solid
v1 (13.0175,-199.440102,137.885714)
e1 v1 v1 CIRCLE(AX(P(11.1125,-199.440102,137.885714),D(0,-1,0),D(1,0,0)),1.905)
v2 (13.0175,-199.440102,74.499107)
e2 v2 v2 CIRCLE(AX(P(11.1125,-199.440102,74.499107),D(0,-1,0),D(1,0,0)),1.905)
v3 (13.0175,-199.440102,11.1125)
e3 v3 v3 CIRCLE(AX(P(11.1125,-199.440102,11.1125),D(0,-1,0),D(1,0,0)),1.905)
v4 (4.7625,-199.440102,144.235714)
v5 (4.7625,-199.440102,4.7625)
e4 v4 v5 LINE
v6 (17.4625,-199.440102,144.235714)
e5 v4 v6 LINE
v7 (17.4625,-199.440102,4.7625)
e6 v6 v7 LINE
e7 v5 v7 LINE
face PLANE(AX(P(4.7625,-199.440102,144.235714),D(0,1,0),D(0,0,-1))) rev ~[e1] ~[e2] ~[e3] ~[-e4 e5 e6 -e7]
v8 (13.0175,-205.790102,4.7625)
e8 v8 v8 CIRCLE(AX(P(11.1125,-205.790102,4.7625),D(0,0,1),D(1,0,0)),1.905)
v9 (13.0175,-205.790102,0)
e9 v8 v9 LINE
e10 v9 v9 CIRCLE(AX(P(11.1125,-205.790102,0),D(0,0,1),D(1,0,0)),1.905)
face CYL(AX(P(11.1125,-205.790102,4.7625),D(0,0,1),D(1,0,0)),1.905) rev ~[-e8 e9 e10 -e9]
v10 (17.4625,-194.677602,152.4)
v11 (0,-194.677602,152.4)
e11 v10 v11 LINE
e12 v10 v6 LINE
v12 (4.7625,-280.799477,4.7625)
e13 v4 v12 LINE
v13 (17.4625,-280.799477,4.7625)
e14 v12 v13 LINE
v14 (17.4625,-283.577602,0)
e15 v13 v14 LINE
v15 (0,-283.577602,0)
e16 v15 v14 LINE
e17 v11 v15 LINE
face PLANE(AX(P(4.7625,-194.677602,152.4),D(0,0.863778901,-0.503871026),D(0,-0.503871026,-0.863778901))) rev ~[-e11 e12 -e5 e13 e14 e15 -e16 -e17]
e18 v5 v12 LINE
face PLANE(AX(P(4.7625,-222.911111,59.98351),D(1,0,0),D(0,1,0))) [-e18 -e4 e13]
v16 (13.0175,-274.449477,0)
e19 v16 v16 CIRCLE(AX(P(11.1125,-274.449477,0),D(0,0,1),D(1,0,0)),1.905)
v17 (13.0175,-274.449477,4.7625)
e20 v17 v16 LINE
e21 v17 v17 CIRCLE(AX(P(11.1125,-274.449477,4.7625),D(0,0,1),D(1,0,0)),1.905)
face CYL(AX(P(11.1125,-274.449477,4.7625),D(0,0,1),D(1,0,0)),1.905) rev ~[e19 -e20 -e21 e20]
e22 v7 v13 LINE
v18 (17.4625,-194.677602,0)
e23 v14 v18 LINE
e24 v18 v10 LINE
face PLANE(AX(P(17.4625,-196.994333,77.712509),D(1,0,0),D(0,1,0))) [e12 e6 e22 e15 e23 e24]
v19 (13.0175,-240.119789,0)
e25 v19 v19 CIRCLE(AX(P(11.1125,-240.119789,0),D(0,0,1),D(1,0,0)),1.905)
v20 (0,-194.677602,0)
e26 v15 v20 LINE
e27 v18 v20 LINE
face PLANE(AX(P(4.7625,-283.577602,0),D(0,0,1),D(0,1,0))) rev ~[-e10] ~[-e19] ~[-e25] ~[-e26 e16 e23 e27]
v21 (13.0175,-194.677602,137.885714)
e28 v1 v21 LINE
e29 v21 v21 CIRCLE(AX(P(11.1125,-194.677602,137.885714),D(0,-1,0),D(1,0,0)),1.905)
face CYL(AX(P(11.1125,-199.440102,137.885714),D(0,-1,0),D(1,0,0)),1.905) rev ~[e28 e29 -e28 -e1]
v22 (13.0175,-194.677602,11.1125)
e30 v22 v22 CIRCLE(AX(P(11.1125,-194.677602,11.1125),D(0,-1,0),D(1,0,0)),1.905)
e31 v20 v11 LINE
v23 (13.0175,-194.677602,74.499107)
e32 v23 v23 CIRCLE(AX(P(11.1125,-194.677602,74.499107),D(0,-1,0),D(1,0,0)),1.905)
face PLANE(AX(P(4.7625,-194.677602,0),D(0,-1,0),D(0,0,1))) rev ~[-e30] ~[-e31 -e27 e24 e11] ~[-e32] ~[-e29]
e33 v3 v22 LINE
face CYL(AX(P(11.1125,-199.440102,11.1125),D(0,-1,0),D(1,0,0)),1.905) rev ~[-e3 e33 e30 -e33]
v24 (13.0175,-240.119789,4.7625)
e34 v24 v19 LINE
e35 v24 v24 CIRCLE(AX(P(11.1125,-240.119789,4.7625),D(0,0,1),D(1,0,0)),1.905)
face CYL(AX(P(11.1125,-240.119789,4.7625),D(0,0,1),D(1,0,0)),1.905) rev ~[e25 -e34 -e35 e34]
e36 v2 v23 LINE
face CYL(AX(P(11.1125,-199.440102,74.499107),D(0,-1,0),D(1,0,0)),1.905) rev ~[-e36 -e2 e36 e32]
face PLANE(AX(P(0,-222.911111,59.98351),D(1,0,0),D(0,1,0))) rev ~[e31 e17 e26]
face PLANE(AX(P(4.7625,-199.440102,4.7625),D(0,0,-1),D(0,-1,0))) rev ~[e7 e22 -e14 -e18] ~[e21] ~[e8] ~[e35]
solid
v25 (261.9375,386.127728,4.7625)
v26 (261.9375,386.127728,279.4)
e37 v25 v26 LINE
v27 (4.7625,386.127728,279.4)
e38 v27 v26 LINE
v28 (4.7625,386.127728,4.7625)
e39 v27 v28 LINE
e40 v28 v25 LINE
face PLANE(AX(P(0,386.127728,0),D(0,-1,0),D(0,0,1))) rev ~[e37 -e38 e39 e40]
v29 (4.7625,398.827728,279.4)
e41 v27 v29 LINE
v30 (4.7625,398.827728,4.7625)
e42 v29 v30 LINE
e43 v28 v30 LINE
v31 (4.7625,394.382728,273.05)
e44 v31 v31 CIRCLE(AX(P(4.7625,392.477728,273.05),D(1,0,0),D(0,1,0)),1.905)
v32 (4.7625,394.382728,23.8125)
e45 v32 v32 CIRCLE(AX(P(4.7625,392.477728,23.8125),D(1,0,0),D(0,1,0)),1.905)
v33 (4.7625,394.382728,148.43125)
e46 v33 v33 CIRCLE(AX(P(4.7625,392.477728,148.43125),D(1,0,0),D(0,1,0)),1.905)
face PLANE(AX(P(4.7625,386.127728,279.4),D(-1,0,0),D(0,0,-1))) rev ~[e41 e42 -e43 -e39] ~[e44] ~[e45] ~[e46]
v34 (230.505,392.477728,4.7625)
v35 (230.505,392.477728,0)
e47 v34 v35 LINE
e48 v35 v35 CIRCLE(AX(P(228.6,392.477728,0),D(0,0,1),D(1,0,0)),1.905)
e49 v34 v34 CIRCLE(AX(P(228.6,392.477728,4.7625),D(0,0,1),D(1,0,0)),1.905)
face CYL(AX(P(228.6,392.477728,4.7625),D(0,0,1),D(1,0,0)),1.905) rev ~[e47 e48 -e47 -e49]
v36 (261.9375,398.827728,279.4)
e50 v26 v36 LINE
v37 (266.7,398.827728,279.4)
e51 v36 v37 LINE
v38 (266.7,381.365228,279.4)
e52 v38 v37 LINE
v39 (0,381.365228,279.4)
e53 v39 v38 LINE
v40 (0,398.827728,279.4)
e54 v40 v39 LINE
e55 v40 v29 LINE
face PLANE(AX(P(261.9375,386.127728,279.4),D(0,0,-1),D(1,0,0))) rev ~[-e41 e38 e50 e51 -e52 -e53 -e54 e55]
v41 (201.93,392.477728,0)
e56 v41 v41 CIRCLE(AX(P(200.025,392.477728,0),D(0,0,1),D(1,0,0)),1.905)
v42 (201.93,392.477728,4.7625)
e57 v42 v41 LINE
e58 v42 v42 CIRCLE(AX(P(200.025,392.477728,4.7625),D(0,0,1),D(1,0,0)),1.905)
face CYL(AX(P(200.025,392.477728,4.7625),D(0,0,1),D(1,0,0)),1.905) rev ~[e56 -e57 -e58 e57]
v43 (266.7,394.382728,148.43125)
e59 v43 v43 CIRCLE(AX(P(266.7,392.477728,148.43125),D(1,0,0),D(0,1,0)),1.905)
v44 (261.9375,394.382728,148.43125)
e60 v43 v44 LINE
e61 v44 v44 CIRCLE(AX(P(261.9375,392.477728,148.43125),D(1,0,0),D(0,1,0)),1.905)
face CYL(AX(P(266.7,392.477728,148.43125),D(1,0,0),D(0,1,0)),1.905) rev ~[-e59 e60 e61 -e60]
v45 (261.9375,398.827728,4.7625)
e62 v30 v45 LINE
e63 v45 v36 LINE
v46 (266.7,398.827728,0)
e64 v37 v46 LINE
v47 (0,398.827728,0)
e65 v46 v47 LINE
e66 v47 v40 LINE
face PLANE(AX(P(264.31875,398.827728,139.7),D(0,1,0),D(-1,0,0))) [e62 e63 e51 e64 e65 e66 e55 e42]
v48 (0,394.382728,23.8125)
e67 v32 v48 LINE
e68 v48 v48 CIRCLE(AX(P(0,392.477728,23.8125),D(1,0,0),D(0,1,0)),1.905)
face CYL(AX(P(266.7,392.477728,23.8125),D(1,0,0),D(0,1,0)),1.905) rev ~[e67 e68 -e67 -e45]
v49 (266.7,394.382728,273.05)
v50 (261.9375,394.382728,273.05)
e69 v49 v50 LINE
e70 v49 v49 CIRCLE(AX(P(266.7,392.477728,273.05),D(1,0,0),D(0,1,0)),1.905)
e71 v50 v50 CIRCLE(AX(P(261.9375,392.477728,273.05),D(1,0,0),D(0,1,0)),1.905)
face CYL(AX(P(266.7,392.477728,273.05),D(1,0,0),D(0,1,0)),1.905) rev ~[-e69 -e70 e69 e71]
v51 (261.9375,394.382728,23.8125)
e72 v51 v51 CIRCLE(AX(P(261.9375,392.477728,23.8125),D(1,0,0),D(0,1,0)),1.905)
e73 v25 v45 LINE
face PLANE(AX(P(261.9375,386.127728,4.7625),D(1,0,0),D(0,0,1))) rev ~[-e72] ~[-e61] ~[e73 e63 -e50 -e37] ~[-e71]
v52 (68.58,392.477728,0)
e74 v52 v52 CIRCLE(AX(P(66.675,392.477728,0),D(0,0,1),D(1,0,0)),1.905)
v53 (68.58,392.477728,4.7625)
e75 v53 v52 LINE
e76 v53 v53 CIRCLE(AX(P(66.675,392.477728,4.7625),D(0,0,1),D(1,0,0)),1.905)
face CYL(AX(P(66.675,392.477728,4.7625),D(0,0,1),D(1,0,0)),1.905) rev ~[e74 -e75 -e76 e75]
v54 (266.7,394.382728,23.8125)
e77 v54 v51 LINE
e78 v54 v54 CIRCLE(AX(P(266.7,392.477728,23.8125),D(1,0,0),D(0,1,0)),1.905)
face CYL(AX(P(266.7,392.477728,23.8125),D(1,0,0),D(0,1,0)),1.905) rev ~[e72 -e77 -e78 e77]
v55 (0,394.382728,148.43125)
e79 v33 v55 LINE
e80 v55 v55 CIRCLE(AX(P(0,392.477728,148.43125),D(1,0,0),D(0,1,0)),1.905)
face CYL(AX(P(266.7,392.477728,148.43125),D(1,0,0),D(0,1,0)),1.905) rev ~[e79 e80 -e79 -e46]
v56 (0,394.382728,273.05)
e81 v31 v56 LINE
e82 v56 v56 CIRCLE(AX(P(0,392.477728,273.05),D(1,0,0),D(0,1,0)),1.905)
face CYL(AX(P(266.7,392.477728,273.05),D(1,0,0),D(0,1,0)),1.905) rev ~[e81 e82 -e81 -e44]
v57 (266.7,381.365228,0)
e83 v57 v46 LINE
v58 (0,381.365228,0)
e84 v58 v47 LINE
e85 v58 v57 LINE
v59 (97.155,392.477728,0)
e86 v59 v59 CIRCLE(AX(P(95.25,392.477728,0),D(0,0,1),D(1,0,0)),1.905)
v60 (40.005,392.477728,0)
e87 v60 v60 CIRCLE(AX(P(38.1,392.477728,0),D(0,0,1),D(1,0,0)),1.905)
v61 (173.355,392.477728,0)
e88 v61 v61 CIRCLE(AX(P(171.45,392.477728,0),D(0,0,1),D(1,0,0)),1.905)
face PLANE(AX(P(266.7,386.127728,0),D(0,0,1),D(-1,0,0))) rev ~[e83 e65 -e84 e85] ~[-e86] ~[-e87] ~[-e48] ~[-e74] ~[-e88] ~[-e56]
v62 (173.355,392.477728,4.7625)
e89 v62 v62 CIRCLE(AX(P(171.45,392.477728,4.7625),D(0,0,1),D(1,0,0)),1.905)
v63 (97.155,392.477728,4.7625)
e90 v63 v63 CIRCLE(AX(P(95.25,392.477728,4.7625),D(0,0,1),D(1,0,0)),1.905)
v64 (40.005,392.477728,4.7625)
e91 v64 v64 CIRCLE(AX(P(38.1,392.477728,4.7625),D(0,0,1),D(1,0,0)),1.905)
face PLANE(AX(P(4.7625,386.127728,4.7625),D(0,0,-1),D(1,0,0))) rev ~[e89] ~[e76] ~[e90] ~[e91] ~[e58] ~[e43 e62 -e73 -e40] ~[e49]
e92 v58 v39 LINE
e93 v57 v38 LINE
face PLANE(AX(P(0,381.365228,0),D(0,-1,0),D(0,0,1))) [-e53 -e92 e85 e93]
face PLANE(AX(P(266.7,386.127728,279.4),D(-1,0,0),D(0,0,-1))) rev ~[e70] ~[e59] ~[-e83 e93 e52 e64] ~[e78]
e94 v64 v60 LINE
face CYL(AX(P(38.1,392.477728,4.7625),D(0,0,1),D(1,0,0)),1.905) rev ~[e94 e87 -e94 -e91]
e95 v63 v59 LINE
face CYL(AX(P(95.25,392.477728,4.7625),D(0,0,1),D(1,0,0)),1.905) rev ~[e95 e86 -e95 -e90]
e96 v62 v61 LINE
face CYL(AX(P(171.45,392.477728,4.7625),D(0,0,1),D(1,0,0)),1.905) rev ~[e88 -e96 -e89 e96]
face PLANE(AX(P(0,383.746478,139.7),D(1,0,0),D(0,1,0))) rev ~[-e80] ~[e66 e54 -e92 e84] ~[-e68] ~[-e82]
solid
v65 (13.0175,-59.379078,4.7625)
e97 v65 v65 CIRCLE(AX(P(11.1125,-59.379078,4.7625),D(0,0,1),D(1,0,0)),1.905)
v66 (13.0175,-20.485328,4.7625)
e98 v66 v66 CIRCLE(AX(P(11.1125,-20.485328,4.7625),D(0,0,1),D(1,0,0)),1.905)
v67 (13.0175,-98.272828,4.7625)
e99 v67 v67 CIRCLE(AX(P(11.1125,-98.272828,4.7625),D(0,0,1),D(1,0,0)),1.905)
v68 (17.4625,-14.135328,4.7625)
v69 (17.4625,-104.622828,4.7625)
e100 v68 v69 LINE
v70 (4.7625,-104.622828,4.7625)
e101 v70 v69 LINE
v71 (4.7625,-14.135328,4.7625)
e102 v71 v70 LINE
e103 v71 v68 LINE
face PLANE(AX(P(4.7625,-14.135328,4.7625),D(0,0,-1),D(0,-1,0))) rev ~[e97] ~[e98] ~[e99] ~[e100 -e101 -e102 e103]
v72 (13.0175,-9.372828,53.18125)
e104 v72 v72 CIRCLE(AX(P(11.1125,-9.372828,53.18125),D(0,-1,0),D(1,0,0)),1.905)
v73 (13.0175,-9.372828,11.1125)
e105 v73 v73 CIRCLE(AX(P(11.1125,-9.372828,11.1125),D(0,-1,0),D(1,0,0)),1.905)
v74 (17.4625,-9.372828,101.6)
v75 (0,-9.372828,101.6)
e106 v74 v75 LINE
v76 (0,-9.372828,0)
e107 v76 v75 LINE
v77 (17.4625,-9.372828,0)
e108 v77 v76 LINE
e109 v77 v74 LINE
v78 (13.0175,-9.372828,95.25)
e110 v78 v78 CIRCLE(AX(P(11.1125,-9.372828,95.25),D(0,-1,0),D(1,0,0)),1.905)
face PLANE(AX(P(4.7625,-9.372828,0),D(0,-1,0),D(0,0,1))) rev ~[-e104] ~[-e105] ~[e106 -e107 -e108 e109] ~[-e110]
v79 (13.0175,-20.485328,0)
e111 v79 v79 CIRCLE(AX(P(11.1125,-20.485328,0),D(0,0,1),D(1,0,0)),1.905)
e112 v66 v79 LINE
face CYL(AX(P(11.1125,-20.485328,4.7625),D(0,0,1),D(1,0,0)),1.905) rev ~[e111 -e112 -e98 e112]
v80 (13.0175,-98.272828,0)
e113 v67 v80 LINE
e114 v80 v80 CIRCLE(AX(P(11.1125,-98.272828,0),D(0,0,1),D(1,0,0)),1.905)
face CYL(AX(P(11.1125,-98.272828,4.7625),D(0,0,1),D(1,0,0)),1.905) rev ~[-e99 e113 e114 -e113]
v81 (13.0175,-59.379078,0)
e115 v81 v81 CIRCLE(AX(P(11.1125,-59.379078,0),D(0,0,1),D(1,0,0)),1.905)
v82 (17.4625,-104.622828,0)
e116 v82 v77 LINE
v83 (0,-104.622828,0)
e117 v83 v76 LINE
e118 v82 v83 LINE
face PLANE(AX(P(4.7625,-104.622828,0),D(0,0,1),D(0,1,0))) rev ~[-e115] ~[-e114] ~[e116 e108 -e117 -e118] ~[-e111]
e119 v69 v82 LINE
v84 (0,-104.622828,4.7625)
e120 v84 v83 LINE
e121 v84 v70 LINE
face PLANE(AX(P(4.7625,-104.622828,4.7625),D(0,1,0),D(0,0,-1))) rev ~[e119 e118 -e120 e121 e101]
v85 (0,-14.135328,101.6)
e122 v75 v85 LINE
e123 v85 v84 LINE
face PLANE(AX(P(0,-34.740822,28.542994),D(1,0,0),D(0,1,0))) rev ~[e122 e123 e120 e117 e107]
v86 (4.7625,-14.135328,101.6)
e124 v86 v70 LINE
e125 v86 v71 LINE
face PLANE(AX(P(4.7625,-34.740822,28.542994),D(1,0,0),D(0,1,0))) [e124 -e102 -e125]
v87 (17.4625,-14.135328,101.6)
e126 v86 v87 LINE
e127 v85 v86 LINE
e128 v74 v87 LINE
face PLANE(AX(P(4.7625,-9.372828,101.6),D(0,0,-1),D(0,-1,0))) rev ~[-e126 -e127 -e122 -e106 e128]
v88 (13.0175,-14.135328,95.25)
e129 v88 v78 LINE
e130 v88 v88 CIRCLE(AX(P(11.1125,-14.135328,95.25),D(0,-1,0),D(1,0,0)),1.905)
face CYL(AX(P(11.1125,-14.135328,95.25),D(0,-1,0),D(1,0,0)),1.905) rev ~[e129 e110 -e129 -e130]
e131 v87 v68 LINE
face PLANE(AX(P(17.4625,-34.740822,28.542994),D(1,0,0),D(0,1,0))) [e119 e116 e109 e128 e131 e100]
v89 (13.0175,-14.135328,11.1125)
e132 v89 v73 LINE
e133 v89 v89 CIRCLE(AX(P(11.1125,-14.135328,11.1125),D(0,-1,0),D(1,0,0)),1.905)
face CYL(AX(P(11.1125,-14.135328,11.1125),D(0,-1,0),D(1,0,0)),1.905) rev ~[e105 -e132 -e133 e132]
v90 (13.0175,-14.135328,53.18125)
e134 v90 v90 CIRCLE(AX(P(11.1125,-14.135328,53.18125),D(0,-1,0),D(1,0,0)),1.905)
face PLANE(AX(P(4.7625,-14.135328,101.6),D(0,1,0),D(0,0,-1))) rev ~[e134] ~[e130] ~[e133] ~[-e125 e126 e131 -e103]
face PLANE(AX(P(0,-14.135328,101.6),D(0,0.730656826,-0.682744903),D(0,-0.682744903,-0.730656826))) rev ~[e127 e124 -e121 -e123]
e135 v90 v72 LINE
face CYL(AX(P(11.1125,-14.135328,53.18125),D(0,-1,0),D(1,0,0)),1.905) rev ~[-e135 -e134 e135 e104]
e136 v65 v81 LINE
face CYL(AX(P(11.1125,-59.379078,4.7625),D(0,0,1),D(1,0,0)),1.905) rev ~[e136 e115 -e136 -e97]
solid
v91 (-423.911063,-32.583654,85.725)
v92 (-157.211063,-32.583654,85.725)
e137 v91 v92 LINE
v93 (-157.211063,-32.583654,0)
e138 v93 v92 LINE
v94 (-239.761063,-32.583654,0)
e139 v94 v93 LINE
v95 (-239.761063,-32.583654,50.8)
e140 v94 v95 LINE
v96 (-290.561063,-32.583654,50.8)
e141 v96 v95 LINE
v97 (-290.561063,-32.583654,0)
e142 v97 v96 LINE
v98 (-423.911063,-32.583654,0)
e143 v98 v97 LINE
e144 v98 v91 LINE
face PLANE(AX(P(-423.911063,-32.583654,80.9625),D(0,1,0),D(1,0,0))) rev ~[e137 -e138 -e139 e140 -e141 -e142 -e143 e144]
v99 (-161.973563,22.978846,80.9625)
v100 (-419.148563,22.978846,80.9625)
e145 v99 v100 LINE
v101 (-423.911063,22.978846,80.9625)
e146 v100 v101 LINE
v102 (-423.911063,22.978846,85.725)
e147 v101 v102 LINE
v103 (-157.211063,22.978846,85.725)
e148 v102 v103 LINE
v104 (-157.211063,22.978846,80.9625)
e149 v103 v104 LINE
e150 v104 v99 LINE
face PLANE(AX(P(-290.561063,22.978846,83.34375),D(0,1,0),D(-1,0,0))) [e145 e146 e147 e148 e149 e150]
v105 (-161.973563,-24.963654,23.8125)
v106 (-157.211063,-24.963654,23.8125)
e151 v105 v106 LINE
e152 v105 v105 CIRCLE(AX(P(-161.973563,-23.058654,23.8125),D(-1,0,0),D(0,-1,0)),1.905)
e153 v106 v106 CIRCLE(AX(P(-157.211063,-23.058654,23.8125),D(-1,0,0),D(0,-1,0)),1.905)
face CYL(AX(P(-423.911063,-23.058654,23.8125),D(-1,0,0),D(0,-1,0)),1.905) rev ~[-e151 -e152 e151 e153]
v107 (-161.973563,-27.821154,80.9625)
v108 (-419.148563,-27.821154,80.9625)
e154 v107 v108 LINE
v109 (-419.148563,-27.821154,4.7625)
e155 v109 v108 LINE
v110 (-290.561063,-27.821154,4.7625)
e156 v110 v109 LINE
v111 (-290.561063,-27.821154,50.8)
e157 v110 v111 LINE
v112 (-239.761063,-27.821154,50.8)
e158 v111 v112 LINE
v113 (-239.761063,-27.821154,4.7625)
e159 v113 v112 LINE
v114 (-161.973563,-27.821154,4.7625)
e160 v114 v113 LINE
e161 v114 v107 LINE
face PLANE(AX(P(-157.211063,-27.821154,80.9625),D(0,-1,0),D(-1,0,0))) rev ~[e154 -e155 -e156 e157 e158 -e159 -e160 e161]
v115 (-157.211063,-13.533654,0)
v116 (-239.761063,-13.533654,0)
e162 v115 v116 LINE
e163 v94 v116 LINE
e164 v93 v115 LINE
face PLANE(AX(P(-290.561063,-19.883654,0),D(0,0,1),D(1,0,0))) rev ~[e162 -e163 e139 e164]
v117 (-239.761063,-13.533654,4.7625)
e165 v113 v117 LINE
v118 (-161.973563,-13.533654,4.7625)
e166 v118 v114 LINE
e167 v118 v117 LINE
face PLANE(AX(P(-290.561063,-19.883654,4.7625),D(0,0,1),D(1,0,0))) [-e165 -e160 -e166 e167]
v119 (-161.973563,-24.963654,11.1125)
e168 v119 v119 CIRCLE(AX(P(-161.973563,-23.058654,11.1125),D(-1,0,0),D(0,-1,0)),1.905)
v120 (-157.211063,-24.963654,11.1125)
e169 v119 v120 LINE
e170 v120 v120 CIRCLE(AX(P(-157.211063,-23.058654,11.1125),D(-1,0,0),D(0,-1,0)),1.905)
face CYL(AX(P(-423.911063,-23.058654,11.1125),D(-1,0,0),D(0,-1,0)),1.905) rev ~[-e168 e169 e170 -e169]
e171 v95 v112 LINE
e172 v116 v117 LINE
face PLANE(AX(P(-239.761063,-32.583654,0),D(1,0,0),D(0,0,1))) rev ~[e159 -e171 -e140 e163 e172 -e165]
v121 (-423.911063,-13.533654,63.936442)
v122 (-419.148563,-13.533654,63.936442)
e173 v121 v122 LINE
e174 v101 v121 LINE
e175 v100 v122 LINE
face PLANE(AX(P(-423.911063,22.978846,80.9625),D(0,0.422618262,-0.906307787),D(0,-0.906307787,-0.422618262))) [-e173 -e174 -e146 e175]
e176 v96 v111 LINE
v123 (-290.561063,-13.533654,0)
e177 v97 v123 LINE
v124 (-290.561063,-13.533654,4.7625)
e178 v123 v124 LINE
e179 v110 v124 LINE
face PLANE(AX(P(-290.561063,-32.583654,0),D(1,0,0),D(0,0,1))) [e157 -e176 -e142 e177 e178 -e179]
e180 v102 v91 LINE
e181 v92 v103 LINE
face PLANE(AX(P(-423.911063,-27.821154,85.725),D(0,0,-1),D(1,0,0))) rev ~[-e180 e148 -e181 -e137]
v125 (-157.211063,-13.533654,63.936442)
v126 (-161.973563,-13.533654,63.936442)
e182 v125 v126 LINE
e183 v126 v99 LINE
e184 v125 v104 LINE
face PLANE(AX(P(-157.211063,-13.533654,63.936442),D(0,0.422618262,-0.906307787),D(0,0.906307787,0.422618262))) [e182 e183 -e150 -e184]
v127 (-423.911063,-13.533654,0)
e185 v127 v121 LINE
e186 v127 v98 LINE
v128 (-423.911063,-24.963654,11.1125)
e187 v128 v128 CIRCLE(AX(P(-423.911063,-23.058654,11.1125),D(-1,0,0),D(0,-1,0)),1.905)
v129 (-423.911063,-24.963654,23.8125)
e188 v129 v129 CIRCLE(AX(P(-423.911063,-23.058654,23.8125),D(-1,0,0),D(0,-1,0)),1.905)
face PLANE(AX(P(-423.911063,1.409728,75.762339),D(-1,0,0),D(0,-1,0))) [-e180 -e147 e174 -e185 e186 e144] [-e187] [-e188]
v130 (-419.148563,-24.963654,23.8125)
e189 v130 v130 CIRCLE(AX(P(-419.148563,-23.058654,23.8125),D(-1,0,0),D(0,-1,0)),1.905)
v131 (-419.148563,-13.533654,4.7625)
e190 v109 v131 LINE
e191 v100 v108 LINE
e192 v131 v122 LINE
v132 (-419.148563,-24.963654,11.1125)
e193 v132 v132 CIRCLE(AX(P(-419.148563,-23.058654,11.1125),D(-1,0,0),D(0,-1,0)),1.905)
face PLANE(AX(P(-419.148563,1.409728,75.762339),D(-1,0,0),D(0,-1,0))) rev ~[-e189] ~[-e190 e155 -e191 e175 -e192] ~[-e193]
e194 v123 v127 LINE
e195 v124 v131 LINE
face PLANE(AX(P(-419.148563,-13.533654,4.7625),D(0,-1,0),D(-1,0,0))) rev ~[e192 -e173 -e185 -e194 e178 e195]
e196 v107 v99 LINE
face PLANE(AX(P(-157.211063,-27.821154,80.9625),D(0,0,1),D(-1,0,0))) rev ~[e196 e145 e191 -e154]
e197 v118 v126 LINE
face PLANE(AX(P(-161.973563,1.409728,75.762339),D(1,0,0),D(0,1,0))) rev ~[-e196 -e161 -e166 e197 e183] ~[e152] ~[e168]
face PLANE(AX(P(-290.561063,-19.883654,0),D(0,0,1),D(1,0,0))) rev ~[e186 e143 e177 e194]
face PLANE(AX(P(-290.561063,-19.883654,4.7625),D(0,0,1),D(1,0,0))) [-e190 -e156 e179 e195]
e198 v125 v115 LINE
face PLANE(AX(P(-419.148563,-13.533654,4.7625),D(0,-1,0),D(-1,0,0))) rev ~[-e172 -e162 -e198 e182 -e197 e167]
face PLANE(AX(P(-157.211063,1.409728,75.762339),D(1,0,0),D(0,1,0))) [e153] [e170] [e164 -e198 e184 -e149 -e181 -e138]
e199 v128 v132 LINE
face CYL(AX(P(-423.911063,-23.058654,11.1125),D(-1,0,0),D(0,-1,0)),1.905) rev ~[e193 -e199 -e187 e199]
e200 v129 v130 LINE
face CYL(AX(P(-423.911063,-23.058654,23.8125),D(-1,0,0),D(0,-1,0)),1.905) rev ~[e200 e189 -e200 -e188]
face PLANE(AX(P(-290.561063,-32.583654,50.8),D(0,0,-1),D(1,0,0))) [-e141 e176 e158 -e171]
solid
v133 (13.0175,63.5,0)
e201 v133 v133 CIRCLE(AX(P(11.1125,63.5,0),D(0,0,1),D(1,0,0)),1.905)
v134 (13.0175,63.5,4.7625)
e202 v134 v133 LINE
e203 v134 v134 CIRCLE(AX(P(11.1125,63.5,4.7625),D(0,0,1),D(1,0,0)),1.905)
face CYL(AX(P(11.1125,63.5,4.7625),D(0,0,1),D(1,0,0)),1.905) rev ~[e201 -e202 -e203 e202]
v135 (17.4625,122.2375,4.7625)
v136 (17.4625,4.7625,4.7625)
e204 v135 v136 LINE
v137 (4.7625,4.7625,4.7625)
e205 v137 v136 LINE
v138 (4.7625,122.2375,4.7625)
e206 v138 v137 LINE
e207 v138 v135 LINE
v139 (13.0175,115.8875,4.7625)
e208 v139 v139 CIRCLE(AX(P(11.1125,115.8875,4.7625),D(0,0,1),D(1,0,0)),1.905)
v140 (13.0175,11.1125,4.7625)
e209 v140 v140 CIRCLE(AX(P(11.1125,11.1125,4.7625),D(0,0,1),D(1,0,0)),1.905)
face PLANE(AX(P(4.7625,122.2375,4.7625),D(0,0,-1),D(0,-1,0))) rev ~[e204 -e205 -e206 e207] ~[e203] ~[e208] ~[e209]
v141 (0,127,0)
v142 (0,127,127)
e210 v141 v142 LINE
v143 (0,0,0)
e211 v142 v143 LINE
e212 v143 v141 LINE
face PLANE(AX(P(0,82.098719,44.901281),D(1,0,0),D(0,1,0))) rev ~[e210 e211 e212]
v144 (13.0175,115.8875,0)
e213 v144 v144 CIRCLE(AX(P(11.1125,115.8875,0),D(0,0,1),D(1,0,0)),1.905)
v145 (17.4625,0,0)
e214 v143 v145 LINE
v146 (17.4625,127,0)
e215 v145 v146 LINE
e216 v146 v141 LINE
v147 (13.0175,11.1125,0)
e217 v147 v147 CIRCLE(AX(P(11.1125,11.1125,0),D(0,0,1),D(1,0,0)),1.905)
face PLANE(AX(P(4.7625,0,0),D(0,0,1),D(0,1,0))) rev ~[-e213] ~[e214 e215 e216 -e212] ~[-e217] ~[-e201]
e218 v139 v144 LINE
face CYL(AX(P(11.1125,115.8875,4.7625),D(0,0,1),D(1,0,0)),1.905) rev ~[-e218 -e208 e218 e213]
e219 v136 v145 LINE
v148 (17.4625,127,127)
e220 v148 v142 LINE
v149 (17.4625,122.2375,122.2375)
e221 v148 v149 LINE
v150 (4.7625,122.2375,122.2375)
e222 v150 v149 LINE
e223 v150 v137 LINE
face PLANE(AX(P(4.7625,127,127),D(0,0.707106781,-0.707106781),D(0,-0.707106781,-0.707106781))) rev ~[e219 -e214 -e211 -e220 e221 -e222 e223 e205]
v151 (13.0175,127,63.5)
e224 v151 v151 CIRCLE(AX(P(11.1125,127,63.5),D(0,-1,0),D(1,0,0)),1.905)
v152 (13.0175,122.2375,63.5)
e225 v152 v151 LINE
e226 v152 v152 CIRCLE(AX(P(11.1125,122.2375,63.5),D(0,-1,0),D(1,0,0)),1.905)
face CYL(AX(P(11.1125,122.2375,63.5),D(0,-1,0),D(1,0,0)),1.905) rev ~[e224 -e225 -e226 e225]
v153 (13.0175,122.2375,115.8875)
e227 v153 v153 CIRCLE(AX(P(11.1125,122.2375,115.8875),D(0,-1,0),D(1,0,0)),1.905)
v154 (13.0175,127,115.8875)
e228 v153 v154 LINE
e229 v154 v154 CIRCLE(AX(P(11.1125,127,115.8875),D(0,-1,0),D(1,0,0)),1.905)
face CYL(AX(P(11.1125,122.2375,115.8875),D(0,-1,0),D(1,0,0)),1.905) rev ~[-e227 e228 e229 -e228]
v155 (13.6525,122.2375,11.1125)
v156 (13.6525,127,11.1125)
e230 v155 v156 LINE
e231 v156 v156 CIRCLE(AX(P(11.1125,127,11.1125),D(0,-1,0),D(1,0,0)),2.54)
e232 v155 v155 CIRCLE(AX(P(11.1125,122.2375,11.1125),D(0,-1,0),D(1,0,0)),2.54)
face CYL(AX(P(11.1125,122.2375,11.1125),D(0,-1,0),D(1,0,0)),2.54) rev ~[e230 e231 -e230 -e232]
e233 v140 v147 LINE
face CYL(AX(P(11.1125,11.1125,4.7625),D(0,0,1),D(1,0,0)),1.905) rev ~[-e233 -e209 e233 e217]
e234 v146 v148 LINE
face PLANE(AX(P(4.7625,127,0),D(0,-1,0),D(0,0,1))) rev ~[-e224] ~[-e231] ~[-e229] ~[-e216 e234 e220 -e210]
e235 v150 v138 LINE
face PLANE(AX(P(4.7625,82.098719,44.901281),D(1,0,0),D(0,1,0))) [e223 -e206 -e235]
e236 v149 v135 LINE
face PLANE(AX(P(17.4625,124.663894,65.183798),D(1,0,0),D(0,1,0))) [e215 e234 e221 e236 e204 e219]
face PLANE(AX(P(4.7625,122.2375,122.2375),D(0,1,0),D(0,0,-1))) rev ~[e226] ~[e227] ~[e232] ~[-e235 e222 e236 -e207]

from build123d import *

# Parameters (mm, degrees)
F1_DEPTH  = 4.7625
F3_DEPTH  = 12.7
F4_R      = 1.905
F5_DEPTH  = 4.7625
F6_R      = 1.905
F6_R_2    = 2.54
F7_DEPTH  = 4.7625
F9_DEPTH  = 4.7625
F11_DEPTH = 12.7
F12_R     = 1.905
F13_DEPTH = 4.7625
F14_R     = 1.905
F15_DEPTH = 4.7625
F17_DEPTH = 4.7625
F19_DEPTH = 12.7
F20_R     = 1.905
F21_DEPTH = 4.7625
F22_R     = 1.905
F23_DEPTH = 4.7625
F24_W     = 254
F24_H     = 12.7
F25_DEPTH = 4.7625
F27_DEPTH = 76.2
F28_R     = 1.905
F29_DEPTH = 266.7
F30_W     = 50.8
F30_H     = 50.8
F31_DEPTH = 19.051
F33_DEPTH = 4.7625
F35_DEPTH = 50.8
F37_DEPTH = 4.7625
F39_DEPTH = 4.7625
F40_W     = 4.7625
F40_H     = 279.4
F41_DEPTH = 266.7
F42_W     = 128.5875
F42_H     = 4.7625
F43_DEPTH = 12.7
F44_R     = 1.905
F45_DEPTH = 266.7
F46_R     = 1.905
F47_DEPTH = 4.7625


with BuildPart() as f1:
    # F0 (on Right) → F1 (new body)
    with BuildSketch(Plane.YZ):
        Polygon((127, 127), (0, 0), (127, 0), align=None)
    extrude(amount=F1_DEPTH)

    # F2 (on face) → F3 (join)
    with BuildSketch(Plane.YZ.offset(4.7625)):
        Polygon((122.2375, 4.7625), (127, 4.7625), (127, 127), (122.2375, 122.2375), align=None)
        Polygon((127, 0), (127, 4.7625), (122.2375, 4.7625), (4.7625, 4.7625), (0, 0), align=None)
    extrude(amount=F3_DEPTH)

    # F4 (on face) → F5 (cut, through all)
    with BuildSketch(Plane.XY.offset(4.7625)):
        with Locations((11.1125, 11.1125)):
            Circle(F4_R)
        with Locations((11.1125, 115.8875)):
            Circle(F4_R)
        with Locations((11.1125, 63.5)):
            Circle(F4_R)
    extrude(amount=-F5_DEPTH, mode=Mode.SUBTRACT)

    # F6 (on face) → F7 (cut, through all)
    with BuildSketch(Plane.XZ.offset(-122.2375)):
        with Locations((11.1125, 115.8875)):
            Circle(F6_R)
        with Locations((11.1125, 11.1125)):
            Circle(F6_R_2)
        with Locations((11.1125, 63.5)):
            Circle(F6_R)
    extrude(amount=-F7_DEPTH, mode=Mode.SUBTRACT)


with BuildPart() as f9:
    # F8 (on Right) → F9 (new body)
    with BuildSketch(Plane.YZ):
        Polygon((-194.6776018031, 152.4), (-283.5776018031, 0), (-194.6776018031, 0), align=None)
    extrude(amount=F9_DEPTH)

    # F10 (on face) → F11 (join)
    with BuildSketch(Plane.YZ.offset(4.7625)):
        Polygon((-199.4401018031, 144.2357142857), (-199.4401018031, 4.7625), (-194.6776018031, 4.7625), (-194.6776018031, 152.4), align=None)
        Polygon((-199.4401018031, 4.7625), (-280.7994768031, 4.7625), (-283.5776018031, 0), (-194.6776018031, 0), (-194.6776018031, 4.7625), align=None)
    extrude(amount=F11_DEPTH)

    # F12 (on face) → F13 (cut, through all)
    with BuildSketch(Plane.XY.offset(4.7625)):
        with Locations((11.1125, -274.4494768031)):
            Circle(F12_R)
        with Locations((11.1125, -240.1197893031)):
            Circle(F12_R)
        with Locations((11.1125, -205.7901018031)):
            Circle(F12_R)
    extrude(amount=-F13_DEPTH, mode=Mode.SUBTRACT)

    # F14 (on face) → F15 (cut, through all)
    with BuildSketch(Plane.XZ.offset(199.4401018031)):
        with Locations((11.1125, 137.8857142857)):
            Circle(F14_R)
        with Locations((11.1125, 11.1125)):
            Circle(F14_R)
        with Locations((11.1125, 74.4991071429)):
            Circle(F14_R)
    extrude(amount=-F15_DEPTH, mode=Mode.SUBTRACT)


with BuildPart() as f17:
    # F16 (on Right) → F17 (new body)
    with BuildSketch(Plane.YZ):
        Polygon((-104.6228282591, 4.7625), (-104.6228282591, 0), (-9.3728282591, 0), (-9.3728282591, 101.6), (-14.1353282591, 101.6), (-14.1353282591, 4.7625), align=None)
        Polygon((-14.1353282591, 101.6), (-104.6228282591, 4.7625), (-14.1353282591, 4.7625), align=None)
    extrude(amount=F17_DEPTH)

    # F18 (on face) → F19 (join)
    with BuildSketch(Plane.YZ.offset(4.7625)):
        Polygon((-9.3728282591, 101.6), (-14.1353282591, 101.6), (-14.1353282591, 4.7625), (-104.6228282591, 4.7625), (-104.6228282591, 0), (-9.3728282591, 0), align=None)
    extrude(amount=F19_DEPTH)

    # F20 (on face) → F21 (cut, through all)
    with BuildSketch(Plane.XY.offset(4.7625)):
        with Locations((11.1125, -98.2728282591)):
            Circle(F20_R)
        with Locations((11.1125, -20.4853282591)):
            Circle(F20_R)
        with Locations((11.1125, -59.3790782591)):
            Circle(F20_R)
    extrude(amount=-F21_DEPTH, mode=Mode.SUBTRACT)

    # F22 (on face) → F23 (cut, through all)
    with BuildSketch(Plane.XZ.offset(14.1353282591)):
        with Locations((11.1125, 95.25)):
            Circle(F22_R)
        with Locations((11.1125, 11.1125)):
            Circle(F22_R)
        with Locations((11.1125, 53.18125)):
            Circle(F22_R)
    extrude(amount=-F23_DEPTH, mode=Mode.SUBTRACT)


with BuildPart() as f25:
    # F24 (on Top) → F25 (new body)
    with BuildSketch(Plane.XY):
        with Locations((-290.5610627561, -19.8836544693)):
            Rectangle(F24_W, F24_H)
        Polygon((-417.5610627561, -13.5336544693), (-423.9110627561, -13.5336544693), (-423.9110627561, -32.5836544693), (-157.2110627561, -32.5836544693), (-157.2110627561, -13.5336544693), (-163.5610627561, -13.5336544693), (-163.5610627561, -26.2336544693), (-417.5610627561, -26.2336544693), align=None)
    extrude(amount=F25_DEPTH)

    # F26 (on face) → F27 (join)
    with BuildSketch(Plane.XY.offset(4.7625)):
        Polygon((-419.1485627561, -27.8211544693), (-419.1485627561, -13.5336544693), (-423.9110627561, -13.5336544693), (-423.9110627561, -32.5836544693), (-157.2110627561, -32.5836544693), (-157.2110627561, -13.5336544693), (-161.9735627561, -13.5336544693), (-161.9735627561, -27.8211544693), align=None)
    extrude(amount=F27_DEPTH)

    # F28 (on face) → F29 (cut, through all)
    with BuildSketch(Plane(origin=(-423.9110627561, 0, 0), x_dir=(0, -1, 0), z_dir=(-1, 0, 0))):
        with Locations((23.0586544693, 23.8125)):
            Circle(F28_R)
        with Locations((23.0586544693, 11.1125)):
            Circle(F28_R)
    extrude(amount=-F29_DEPTH, mode=Mode.SUBTRACT)

    # F30 (on face) → F31 (cut, through all)
    with BuildSketch(Plane.XZ.offset(32.5836544693)):
        with Locations((-265.1610627561, 25.4)):
            Rectangle(F30_W, F30_H)
    extrude(amount=-F31_DEPTH, mode=Mode.SUBTRACT)

    # F32 (on face) → F33 (join)
    with BuildSketch(Plane.XY.offset(80.9625)):
        Polygon((-423.9110627561, -27.8211544693), (-423.9110627561, -32.5836544693), (-157.2110627561, -32.5836544693), (-157.2110627561, -27.8211544693), (-161.9735627561, -27.8211544693), (-419.1485627561, -27.8211544693), align=None)
    extrude(amount=F33_DEPTH)

    # F34 (on face) → F35 (join)
    with BuildSketch(Plane(origin=(0, -27.8211544693, 0), x_dir=(-1, 0, 0), z_dir=(0, 1, 0))):
        Polygon((423.9110627561, 85.725), (157.2110627561, 85.725), (157.2110627561, 80.9625), (161.9735627561, 80.9625), (419.1485627561, 80.9625), (423.9110627561, 80.9625), align=None)
    extrude(amount=F35_DEPTH)

    # F36 (on face) → F37 (join)
    with BuildSketch(Plane(origin=(-423.9110627561, 0, 0), x_dir=(0, -1, 0), z_dir=(-1, 0, 0))):
        Polygon((13.5336544693, 80.9625), (-22.9788455307, 80.9625), (13.5336544693, 63.9364416316), align=None)
    extrude(amount=-F37_DEPTH)

    # F38 (on face) → F39 (join)
    with BuildSketch(Plane.YZ.offset(-157.2110627561)):
        Polygon((-13.5336544693, 63.9364416316), (22.9788455307, 80.9625), (-13.5336544693, 80.9625), align=None)
    extrude(amount=-F39_DEPTH)


with BuildPart() as f41:
    # F40 (on Right) → F41 (new body)
    with BuildSketch(Plane.YZ):
        with Locations((383.7464779562, 139.7)):
            Rectangle(F40_W, F40_H)
    extrude(amount=F41_DEPTH)

    # F42 (on face) → F43 (join)
    with BuildSketch(Plane(origin=(0, 386.1277279562, 0), x_dir=(-1, 0, 0), z_dir=(0, 1, 0))):
        Polygon((-261.9375, 279.4), (-266.7, 279.4), (-266.7, 0), (-261.9375, 0), (-261.9375, 4.7625), align=None)
        with Locations((-197.64375, 2.38125)):
            Rectangle(F42_W, F42_H)
        with Locations((-69.05625, 2.38125)):
            Rectangle(F42_W, F42_H)
        Polygon((0, 279.4), (-4.7625, 279.4), (-4.7625, 4.7625), (-4.7625, 0), (0, 0), align=None)
    extrude(amount=F43_DEPTH)

    # F44 (on face) → F45 (cut, through all)
    with BuildSketch(Plane.YZ.offset(266.7)):
        with Locations((392.4777279562, 273.05)):
            Circle(F44_R)
        with Locations((392.4777279562, 148.43125)):
            Circle(F44_R)
        with Locations((392.4777279562, 23.8125)):
            Circle(F44_R)
    extrude(amount=-F45_DEPTH, mode=Mode.SUBTRACT)

    # F46 (on face) → F47 (cut, through all)
    with BuildSketch(Plane.XY.offset(4.7625)):
        with Locations((38.1, 392.4777279562)):
            Circle(F46_R)
        with Locations((66.675, 392.4777279562)):
            Circle(F46_R)
        with Locations((95.25, 392.4777279562)):
            Circle(F46_R)
        with Locations((171.45, 392.4777279562)):
            Circle(F46_R)
        with Locations((228.6, 392.4777279562)):
            Circle(F46_R)
        with Locations((200.025, 392.4777279562)):
            Circle(F46_R)
    extrude(amount=-F47_DEPTH, mode=Mode.SUBTRACT)


solid = Compound([f1.part, f9.part, f17.part, f25.part, f41.part])
